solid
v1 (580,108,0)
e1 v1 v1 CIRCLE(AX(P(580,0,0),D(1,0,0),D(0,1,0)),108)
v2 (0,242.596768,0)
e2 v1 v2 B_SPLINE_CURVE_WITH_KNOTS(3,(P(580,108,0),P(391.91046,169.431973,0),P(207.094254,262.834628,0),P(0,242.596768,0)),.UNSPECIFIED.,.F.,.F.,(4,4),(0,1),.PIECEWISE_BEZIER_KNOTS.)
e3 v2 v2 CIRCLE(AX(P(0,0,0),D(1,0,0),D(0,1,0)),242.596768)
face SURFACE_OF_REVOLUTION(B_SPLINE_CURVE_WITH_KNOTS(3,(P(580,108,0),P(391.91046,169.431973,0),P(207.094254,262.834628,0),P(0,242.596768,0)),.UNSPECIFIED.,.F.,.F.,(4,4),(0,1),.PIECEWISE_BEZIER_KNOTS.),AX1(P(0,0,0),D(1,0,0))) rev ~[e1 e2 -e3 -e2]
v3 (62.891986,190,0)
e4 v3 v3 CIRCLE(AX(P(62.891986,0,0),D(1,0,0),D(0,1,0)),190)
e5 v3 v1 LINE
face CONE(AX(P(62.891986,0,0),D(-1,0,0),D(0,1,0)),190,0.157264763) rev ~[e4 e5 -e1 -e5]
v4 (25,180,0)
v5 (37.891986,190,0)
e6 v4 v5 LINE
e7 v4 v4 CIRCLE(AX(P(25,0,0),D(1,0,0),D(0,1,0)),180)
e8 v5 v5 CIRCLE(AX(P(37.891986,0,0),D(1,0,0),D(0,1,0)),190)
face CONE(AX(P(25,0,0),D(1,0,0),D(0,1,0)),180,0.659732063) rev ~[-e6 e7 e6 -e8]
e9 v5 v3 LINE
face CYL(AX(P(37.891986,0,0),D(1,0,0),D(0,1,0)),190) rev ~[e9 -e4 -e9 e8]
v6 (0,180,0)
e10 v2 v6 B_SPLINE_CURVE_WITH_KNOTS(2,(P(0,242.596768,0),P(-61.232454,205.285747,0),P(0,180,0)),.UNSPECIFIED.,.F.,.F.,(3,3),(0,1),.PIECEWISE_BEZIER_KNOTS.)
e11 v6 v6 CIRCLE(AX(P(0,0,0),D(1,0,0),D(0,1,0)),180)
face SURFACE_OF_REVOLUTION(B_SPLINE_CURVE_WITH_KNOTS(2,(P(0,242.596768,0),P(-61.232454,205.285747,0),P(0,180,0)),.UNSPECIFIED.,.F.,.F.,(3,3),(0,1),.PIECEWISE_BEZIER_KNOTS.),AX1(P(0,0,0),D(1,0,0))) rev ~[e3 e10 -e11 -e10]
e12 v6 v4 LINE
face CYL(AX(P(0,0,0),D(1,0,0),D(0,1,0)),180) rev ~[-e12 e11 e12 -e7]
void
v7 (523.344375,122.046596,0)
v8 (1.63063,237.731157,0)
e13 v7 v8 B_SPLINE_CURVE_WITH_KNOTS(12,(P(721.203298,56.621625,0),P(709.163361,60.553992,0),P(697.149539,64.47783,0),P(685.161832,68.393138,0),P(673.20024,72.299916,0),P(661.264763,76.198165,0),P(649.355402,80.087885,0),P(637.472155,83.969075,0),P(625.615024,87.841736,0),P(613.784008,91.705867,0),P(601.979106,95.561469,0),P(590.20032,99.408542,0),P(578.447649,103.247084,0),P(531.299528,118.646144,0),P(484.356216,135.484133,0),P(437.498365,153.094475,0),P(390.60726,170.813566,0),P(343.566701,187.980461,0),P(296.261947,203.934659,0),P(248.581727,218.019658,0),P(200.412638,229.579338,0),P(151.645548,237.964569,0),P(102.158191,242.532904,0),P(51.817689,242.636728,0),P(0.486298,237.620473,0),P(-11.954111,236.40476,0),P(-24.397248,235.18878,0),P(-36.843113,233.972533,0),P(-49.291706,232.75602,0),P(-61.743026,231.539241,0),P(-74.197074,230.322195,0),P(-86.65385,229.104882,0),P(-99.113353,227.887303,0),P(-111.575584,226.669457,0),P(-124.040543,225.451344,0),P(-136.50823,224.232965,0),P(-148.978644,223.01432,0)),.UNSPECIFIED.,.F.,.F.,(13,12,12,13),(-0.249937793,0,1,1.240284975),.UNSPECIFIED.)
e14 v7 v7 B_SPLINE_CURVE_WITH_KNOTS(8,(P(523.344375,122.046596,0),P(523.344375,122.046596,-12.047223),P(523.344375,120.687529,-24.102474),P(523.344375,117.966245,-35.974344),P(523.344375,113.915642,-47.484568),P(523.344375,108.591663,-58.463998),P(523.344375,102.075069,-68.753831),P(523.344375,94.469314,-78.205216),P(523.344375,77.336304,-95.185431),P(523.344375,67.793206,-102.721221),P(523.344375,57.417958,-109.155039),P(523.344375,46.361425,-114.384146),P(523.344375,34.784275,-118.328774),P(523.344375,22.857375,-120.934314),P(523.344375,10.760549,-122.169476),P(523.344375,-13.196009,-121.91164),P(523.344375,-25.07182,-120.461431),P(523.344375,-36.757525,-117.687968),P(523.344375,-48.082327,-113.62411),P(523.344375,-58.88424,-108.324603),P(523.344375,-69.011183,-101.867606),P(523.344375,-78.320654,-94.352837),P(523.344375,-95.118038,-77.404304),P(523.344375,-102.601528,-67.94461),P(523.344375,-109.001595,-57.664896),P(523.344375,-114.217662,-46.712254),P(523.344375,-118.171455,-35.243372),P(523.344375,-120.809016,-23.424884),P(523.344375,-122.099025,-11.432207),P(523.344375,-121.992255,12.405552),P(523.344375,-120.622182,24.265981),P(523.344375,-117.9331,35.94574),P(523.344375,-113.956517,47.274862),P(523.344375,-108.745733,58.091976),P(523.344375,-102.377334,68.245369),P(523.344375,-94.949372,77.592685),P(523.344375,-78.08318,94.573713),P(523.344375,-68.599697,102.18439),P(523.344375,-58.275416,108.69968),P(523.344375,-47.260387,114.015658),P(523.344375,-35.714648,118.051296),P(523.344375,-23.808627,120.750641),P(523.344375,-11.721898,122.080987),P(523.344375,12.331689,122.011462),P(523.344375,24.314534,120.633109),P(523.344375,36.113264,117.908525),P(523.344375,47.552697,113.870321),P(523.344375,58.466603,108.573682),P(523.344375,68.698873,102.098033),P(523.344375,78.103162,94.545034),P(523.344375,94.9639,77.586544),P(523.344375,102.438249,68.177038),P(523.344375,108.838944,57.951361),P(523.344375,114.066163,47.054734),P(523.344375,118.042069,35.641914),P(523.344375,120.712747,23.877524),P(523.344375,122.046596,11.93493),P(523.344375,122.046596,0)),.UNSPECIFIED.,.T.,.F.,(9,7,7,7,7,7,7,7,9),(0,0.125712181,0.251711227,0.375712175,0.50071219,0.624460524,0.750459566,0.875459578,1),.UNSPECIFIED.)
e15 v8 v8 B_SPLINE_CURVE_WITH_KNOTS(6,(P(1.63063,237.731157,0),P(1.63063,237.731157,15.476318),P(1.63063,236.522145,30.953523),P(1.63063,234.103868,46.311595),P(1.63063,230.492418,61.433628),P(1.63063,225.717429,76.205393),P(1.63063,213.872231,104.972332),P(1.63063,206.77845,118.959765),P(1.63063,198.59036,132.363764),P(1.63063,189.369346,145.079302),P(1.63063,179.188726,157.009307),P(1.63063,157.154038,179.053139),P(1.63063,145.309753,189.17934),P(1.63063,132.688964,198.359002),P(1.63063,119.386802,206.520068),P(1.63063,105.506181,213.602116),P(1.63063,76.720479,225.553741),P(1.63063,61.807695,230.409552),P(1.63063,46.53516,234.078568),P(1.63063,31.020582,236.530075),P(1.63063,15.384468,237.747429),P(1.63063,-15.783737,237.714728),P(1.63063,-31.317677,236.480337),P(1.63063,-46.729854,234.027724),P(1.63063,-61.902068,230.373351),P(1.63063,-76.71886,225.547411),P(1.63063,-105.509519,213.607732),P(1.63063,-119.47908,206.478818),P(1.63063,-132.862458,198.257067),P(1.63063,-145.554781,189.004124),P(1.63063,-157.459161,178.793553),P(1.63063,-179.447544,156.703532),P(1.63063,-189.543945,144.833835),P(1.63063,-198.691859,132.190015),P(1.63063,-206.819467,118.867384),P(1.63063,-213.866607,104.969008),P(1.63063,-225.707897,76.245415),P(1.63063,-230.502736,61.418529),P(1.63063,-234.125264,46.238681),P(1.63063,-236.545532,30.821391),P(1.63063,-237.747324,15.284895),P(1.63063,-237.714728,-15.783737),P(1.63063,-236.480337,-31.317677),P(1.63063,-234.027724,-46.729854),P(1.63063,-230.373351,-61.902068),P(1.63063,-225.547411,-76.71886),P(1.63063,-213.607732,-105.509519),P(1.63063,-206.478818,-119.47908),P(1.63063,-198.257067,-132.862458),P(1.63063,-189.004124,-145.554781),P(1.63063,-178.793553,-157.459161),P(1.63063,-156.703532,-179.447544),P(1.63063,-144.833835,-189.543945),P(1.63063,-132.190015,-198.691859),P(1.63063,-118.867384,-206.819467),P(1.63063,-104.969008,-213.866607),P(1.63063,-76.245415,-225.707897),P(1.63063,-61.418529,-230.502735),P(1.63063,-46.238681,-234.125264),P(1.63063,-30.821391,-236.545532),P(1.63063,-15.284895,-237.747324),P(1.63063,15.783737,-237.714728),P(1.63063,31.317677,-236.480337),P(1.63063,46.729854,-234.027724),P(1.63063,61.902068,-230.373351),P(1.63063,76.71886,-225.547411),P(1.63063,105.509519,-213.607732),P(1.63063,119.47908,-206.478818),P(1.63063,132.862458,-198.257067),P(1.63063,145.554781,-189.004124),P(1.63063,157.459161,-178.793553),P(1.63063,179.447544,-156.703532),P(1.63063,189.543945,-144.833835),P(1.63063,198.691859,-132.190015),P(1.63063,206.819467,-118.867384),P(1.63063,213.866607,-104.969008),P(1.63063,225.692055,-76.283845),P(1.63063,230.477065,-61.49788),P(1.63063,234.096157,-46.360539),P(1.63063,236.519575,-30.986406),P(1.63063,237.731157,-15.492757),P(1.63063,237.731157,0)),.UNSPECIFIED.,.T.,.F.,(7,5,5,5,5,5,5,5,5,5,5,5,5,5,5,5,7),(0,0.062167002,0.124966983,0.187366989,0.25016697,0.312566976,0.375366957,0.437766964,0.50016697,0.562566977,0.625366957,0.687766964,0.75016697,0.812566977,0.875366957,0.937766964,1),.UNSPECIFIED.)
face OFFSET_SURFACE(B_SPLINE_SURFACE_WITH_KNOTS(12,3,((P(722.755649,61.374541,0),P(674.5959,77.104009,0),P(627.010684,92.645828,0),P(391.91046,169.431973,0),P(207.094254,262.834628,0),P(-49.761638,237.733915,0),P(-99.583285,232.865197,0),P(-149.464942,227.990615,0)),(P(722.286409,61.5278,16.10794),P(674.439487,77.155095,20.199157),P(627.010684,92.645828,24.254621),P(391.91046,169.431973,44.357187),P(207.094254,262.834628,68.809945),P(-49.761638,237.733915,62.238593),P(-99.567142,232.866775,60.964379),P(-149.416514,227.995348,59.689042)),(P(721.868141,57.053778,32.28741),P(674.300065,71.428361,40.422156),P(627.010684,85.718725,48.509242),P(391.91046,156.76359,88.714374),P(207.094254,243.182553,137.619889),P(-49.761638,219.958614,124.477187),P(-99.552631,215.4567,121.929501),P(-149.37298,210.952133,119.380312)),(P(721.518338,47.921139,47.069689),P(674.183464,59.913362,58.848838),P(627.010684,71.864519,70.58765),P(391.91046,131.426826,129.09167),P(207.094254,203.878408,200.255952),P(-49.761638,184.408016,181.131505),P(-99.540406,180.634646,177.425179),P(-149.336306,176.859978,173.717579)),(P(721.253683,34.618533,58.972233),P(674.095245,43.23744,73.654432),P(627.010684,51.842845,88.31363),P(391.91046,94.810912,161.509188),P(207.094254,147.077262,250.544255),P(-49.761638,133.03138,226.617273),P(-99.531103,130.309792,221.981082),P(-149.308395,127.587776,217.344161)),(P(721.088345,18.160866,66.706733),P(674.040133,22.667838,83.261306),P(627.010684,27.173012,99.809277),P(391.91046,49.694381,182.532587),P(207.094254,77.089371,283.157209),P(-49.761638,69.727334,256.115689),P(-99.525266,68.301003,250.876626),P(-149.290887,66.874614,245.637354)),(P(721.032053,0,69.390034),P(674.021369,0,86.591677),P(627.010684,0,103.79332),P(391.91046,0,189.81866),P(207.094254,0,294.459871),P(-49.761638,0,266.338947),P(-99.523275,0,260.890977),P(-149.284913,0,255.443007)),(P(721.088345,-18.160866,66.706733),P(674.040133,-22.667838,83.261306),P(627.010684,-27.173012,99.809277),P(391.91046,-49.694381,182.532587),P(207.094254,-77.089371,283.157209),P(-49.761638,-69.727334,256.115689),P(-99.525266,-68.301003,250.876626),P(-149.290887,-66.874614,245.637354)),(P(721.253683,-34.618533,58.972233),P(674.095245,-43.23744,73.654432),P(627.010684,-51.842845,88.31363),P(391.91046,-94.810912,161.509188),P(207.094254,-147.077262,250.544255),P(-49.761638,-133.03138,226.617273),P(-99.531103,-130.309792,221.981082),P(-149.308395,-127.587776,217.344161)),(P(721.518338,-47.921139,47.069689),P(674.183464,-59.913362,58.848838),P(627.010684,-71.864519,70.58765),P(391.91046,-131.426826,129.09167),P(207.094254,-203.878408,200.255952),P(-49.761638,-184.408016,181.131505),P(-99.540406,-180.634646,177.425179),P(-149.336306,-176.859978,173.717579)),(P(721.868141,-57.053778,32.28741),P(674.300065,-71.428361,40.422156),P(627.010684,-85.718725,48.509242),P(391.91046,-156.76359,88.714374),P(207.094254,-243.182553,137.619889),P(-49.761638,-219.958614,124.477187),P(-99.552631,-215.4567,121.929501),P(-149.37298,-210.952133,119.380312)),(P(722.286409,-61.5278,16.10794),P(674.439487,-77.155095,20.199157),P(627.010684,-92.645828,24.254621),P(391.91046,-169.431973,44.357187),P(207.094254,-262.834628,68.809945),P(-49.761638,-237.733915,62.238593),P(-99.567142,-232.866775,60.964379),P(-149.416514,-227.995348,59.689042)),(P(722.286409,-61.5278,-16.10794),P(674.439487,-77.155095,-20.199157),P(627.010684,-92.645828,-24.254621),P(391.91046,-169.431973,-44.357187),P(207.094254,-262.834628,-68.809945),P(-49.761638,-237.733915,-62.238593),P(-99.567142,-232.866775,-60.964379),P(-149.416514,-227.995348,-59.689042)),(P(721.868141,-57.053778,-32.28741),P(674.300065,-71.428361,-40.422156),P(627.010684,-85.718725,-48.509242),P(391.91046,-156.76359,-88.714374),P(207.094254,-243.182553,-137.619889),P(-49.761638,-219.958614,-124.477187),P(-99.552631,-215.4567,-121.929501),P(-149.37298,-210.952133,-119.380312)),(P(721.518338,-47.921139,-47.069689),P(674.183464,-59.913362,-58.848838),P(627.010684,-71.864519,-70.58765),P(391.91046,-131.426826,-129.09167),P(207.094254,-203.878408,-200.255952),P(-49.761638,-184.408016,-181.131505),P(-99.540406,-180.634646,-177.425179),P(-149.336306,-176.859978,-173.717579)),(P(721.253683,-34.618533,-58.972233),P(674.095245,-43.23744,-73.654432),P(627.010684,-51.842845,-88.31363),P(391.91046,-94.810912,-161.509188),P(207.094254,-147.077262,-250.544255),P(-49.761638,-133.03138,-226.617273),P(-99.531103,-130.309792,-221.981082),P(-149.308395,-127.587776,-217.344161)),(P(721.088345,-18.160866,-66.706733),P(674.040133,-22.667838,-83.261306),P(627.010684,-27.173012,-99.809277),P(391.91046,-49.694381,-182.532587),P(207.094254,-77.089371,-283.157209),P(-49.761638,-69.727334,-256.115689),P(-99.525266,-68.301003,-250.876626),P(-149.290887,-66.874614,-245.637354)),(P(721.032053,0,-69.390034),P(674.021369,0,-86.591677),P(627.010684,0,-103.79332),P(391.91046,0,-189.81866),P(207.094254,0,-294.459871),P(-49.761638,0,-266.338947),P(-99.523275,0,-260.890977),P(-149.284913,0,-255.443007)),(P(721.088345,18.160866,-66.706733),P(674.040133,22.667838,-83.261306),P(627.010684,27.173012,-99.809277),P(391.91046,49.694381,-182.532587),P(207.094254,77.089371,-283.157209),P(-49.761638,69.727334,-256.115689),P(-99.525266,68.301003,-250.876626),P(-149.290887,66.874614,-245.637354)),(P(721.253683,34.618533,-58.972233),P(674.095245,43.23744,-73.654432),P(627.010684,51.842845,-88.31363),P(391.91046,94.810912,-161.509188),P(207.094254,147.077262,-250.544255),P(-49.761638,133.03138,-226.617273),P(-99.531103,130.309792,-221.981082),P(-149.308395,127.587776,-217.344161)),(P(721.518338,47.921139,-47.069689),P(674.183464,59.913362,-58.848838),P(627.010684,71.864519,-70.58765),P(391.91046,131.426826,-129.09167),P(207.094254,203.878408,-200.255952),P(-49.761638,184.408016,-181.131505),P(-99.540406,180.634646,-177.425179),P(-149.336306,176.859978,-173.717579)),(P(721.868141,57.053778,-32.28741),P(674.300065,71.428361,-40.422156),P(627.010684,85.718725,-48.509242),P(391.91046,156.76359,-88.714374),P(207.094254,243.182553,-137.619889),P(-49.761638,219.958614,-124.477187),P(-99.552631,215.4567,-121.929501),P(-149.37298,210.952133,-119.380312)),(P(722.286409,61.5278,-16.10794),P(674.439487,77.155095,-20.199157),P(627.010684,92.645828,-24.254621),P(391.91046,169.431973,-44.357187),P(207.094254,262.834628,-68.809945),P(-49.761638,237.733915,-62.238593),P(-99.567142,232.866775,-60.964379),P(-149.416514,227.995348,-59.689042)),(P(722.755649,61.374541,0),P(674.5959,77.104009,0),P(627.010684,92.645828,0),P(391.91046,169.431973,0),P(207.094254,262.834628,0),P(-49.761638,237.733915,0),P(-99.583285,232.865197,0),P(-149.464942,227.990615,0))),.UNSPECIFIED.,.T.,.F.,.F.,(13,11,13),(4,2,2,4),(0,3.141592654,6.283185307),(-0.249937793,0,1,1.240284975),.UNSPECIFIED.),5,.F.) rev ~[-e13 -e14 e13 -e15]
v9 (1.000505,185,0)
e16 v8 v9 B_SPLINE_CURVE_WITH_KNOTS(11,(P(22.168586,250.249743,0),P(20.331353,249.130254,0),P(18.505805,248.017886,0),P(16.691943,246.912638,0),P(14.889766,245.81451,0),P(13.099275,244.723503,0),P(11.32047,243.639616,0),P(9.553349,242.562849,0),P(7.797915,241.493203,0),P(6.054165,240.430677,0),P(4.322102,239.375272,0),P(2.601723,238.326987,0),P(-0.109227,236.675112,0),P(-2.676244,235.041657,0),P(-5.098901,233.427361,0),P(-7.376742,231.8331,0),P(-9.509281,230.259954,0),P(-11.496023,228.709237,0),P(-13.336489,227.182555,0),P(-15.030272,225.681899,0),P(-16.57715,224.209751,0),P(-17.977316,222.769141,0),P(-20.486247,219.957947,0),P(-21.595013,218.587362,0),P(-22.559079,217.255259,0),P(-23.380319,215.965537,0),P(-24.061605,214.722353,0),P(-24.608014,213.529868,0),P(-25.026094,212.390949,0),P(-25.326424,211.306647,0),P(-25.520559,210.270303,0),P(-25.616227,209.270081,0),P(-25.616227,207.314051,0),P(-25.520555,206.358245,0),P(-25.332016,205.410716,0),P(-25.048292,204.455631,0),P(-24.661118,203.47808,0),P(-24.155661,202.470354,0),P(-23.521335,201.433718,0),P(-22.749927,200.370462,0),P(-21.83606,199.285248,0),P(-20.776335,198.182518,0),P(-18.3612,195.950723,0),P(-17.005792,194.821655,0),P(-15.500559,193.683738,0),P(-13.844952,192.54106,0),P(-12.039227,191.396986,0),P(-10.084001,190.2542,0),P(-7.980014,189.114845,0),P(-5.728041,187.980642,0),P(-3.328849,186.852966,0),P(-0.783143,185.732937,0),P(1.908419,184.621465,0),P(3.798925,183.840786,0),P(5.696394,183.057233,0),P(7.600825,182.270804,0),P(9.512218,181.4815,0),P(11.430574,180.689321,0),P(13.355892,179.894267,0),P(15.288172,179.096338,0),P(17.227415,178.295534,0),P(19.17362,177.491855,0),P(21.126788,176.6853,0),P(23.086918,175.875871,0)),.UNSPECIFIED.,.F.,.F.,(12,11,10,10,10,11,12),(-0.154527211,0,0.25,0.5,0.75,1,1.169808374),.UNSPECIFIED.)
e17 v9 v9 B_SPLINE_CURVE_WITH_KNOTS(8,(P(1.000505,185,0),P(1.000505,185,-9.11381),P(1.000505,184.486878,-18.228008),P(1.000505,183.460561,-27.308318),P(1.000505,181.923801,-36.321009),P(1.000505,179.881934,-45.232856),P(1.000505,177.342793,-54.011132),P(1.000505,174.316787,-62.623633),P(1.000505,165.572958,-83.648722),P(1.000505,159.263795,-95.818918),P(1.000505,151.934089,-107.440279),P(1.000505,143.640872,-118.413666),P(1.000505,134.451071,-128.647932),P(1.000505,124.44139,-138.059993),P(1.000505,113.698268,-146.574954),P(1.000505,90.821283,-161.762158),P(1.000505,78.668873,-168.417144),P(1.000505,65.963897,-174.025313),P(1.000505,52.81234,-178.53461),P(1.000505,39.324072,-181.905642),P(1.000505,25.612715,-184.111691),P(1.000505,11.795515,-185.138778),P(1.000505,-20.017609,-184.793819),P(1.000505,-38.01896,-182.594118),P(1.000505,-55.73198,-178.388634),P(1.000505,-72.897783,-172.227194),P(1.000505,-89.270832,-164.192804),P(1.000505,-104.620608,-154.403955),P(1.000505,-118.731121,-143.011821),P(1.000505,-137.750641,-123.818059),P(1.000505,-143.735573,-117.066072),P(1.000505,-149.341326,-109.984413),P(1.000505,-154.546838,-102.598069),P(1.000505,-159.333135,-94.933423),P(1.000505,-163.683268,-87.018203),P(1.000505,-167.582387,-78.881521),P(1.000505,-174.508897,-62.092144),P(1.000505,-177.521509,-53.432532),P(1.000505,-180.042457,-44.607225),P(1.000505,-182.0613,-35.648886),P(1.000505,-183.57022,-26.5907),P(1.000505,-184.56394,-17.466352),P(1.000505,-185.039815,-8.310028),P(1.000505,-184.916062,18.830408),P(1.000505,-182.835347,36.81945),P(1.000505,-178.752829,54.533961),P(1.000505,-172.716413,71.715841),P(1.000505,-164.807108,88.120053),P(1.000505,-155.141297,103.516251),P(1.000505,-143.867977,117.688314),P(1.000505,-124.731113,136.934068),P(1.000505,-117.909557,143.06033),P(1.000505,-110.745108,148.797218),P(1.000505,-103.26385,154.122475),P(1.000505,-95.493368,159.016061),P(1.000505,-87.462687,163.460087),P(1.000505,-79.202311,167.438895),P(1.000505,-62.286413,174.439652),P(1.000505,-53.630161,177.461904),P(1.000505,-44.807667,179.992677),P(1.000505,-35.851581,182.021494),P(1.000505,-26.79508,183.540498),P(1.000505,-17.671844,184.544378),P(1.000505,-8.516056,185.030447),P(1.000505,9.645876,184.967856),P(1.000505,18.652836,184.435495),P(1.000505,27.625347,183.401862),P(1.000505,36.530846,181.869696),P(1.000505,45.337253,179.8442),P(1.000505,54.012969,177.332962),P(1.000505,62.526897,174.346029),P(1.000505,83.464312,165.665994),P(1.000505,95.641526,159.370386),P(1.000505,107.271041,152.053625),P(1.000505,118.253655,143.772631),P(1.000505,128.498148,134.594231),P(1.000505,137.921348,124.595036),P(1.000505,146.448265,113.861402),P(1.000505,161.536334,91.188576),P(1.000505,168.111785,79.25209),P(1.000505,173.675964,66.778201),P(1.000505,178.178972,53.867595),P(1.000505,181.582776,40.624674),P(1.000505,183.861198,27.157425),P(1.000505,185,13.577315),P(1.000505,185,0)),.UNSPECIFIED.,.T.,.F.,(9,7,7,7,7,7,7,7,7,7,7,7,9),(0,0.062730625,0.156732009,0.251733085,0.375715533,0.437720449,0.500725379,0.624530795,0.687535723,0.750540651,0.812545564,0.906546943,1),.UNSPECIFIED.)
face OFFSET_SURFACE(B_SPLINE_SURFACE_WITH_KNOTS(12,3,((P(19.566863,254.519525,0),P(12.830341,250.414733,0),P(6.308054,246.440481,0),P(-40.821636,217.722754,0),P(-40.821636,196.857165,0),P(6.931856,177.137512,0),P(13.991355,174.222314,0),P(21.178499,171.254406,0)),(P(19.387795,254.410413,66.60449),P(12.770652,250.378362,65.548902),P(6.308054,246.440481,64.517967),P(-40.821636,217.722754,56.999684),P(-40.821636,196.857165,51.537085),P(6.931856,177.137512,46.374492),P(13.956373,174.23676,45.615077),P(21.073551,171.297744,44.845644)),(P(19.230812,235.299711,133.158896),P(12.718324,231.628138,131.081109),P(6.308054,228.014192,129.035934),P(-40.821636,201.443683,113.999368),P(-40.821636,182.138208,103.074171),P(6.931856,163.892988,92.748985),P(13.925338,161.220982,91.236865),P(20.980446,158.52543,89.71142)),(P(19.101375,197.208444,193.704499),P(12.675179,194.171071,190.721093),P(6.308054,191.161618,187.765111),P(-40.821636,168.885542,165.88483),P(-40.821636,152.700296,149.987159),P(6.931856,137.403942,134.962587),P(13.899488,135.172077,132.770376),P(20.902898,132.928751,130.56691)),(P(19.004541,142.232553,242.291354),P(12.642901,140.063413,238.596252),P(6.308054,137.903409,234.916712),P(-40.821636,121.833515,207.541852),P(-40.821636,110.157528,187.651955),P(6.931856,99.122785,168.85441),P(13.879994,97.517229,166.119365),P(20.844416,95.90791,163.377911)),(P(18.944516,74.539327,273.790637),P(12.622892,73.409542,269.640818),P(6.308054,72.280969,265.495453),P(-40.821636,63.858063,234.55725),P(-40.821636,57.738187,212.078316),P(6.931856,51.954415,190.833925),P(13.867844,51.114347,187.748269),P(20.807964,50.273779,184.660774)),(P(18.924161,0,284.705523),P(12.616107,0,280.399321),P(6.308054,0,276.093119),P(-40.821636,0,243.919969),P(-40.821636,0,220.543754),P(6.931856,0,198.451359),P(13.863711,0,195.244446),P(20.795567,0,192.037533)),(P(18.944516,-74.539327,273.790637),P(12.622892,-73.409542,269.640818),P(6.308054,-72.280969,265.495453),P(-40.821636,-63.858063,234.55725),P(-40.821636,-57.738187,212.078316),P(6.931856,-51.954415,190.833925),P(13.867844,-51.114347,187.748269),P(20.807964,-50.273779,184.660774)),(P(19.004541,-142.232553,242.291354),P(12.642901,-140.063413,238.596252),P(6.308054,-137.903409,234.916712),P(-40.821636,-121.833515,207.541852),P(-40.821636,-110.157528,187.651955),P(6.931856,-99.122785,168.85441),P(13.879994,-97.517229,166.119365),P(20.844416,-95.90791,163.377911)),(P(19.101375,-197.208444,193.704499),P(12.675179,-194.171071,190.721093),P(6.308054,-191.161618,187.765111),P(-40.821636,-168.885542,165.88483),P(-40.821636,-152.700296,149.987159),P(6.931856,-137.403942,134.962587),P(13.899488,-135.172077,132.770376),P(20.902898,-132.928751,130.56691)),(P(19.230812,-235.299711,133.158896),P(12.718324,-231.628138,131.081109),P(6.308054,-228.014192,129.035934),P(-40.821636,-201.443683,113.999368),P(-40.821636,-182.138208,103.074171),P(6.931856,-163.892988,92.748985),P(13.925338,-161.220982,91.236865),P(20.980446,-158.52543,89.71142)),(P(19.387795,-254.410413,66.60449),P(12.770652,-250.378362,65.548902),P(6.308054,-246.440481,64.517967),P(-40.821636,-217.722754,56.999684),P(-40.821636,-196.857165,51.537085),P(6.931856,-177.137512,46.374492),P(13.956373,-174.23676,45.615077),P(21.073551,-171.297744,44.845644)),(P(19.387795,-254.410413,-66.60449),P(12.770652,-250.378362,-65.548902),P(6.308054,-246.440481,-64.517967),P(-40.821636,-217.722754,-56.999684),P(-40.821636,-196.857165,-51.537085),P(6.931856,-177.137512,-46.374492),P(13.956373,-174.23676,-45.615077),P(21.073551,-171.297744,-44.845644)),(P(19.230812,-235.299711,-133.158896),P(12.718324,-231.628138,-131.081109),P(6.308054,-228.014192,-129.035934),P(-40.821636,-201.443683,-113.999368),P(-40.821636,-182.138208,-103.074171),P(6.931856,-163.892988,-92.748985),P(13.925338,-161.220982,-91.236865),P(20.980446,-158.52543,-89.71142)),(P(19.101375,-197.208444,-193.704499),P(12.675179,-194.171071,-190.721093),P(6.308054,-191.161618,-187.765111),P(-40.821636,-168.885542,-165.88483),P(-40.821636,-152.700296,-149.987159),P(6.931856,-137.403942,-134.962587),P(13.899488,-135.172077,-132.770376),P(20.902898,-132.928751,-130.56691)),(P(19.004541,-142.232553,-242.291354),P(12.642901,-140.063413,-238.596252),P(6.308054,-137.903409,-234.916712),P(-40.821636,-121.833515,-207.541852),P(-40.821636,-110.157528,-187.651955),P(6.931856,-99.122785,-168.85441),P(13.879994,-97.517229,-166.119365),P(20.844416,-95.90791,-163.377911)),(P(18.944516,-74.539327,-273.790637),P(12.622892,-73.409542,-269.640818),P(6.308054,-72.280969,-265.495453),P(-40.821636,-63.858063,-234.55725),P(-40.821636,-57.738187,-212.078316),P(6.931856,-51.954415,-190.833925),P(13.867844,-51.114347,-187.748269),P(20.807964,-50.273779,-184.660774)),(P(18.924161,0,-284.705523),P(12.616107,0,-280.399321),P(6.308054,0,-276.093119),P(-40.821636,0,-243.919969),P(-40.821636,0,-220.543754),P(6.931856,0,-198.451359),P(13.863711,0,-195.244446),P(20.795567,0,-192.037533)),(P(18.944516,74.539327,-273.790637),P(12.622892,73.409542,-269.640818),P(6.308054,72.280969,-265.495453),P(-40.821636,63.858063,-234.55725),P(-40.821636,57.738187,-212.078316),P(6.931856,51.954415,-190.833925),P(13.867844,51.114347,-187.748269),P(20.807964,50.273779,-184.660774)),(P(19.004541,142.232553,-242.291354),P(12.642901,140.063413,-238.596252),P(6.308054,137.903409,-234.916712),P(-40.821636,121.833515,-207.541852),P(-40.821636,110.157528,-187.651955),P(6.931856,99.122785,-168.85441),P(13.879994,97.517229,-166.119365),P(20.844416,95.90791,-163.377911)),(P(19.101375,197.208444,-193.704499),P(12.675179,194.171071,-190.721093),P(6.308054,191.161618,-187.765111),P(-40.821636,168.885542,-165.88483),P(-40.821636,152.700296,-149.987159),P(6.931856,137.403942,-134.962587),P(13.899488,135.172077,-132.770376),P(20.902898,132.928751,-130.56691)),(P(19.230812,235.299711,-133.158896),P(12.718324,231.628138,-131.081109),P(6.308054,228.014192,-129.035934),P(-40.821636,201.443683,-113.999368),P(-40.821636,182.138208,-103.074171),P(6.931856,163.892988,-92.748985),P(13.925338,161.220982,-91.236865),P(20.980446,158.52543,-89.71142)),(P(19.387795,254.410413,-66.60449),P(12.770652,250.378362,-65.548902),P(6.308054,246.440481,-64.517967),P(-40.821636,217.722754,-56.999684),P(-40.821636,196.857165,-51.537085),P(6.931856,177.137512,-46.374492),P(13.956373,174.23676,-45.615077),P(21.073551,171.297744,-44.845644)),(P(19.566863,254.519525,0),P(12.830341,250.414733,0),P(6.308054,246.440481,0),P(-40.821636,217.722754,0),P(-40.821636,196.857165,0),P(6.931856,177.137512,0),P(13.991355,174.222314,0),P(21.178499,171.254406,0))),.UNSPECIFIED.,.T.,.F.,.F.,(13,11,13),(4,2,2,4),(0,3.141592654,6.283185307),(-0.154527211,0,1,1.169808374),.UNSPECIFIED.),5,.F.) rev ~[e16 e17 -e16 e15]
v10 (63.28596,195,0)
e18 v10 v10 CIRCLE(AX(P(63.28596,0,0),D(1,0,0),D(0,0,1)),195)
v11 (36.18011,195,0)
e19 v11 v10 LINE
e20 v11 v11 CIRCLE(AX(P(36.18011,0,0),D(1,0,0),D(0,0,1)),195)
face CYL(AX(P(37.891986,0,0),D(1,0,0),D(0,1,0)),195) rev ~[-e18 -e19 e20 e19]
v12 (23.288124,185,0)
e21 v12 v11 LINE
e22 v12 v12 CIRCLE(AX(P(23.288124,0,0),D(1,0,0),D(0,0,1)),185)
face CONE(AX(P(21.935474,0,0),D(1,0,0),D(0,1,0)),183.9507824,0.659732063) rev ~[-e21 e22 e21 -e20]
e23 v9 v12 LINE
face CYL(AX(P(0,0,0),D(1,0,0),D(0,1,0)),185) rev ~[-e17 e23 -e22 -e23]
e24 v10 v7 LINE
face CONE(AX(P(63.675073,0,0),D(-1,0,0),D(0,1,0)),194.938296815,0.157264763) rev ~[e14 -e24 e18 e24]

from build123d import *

# Parameters (mm, degrees)
THICKEN1_T1 = 5


with BuildPart() as body_1:
    # Surface-Revolve1: a surface, the sketch's curves turned about an axis
    with BuildLine(Plane.XY, mode=Mode.PRIVATE) as surface_revolve1_1_path:
        Line((0, 180), (25, 180))
        Line((25, 180), (37.891986063, 190))
        Line((37.891986063, 190), (62.891986063, 190))
        Line((62.891986063, 190), (580, 108))
        add(Edge.make_bspline(
            [(580, 108), (391.910460498, 169.43197282), (207.094253649, 262.834627607), (0, 242.596768495)],
            knots=[0, 0, 0, 0, 1, 1, 1, 1], degree=3))
        add(Edge.make_bspline(
            [(0, 242.596768495), (-61.2324544, 205.285747467), (0, 180)],
            knots=[0, 0, 0, 1, 1, 1], degree=2))
    surface_revolve1_1 = Shell.revolve(surface_revolve1_1_path.wire(), 360, Axis((0, 0, 0), (1, 0, 0)))
    add(Solid.thicken(surface_revolve1_1, THICKEN1_T1))


solid = body_1.part
